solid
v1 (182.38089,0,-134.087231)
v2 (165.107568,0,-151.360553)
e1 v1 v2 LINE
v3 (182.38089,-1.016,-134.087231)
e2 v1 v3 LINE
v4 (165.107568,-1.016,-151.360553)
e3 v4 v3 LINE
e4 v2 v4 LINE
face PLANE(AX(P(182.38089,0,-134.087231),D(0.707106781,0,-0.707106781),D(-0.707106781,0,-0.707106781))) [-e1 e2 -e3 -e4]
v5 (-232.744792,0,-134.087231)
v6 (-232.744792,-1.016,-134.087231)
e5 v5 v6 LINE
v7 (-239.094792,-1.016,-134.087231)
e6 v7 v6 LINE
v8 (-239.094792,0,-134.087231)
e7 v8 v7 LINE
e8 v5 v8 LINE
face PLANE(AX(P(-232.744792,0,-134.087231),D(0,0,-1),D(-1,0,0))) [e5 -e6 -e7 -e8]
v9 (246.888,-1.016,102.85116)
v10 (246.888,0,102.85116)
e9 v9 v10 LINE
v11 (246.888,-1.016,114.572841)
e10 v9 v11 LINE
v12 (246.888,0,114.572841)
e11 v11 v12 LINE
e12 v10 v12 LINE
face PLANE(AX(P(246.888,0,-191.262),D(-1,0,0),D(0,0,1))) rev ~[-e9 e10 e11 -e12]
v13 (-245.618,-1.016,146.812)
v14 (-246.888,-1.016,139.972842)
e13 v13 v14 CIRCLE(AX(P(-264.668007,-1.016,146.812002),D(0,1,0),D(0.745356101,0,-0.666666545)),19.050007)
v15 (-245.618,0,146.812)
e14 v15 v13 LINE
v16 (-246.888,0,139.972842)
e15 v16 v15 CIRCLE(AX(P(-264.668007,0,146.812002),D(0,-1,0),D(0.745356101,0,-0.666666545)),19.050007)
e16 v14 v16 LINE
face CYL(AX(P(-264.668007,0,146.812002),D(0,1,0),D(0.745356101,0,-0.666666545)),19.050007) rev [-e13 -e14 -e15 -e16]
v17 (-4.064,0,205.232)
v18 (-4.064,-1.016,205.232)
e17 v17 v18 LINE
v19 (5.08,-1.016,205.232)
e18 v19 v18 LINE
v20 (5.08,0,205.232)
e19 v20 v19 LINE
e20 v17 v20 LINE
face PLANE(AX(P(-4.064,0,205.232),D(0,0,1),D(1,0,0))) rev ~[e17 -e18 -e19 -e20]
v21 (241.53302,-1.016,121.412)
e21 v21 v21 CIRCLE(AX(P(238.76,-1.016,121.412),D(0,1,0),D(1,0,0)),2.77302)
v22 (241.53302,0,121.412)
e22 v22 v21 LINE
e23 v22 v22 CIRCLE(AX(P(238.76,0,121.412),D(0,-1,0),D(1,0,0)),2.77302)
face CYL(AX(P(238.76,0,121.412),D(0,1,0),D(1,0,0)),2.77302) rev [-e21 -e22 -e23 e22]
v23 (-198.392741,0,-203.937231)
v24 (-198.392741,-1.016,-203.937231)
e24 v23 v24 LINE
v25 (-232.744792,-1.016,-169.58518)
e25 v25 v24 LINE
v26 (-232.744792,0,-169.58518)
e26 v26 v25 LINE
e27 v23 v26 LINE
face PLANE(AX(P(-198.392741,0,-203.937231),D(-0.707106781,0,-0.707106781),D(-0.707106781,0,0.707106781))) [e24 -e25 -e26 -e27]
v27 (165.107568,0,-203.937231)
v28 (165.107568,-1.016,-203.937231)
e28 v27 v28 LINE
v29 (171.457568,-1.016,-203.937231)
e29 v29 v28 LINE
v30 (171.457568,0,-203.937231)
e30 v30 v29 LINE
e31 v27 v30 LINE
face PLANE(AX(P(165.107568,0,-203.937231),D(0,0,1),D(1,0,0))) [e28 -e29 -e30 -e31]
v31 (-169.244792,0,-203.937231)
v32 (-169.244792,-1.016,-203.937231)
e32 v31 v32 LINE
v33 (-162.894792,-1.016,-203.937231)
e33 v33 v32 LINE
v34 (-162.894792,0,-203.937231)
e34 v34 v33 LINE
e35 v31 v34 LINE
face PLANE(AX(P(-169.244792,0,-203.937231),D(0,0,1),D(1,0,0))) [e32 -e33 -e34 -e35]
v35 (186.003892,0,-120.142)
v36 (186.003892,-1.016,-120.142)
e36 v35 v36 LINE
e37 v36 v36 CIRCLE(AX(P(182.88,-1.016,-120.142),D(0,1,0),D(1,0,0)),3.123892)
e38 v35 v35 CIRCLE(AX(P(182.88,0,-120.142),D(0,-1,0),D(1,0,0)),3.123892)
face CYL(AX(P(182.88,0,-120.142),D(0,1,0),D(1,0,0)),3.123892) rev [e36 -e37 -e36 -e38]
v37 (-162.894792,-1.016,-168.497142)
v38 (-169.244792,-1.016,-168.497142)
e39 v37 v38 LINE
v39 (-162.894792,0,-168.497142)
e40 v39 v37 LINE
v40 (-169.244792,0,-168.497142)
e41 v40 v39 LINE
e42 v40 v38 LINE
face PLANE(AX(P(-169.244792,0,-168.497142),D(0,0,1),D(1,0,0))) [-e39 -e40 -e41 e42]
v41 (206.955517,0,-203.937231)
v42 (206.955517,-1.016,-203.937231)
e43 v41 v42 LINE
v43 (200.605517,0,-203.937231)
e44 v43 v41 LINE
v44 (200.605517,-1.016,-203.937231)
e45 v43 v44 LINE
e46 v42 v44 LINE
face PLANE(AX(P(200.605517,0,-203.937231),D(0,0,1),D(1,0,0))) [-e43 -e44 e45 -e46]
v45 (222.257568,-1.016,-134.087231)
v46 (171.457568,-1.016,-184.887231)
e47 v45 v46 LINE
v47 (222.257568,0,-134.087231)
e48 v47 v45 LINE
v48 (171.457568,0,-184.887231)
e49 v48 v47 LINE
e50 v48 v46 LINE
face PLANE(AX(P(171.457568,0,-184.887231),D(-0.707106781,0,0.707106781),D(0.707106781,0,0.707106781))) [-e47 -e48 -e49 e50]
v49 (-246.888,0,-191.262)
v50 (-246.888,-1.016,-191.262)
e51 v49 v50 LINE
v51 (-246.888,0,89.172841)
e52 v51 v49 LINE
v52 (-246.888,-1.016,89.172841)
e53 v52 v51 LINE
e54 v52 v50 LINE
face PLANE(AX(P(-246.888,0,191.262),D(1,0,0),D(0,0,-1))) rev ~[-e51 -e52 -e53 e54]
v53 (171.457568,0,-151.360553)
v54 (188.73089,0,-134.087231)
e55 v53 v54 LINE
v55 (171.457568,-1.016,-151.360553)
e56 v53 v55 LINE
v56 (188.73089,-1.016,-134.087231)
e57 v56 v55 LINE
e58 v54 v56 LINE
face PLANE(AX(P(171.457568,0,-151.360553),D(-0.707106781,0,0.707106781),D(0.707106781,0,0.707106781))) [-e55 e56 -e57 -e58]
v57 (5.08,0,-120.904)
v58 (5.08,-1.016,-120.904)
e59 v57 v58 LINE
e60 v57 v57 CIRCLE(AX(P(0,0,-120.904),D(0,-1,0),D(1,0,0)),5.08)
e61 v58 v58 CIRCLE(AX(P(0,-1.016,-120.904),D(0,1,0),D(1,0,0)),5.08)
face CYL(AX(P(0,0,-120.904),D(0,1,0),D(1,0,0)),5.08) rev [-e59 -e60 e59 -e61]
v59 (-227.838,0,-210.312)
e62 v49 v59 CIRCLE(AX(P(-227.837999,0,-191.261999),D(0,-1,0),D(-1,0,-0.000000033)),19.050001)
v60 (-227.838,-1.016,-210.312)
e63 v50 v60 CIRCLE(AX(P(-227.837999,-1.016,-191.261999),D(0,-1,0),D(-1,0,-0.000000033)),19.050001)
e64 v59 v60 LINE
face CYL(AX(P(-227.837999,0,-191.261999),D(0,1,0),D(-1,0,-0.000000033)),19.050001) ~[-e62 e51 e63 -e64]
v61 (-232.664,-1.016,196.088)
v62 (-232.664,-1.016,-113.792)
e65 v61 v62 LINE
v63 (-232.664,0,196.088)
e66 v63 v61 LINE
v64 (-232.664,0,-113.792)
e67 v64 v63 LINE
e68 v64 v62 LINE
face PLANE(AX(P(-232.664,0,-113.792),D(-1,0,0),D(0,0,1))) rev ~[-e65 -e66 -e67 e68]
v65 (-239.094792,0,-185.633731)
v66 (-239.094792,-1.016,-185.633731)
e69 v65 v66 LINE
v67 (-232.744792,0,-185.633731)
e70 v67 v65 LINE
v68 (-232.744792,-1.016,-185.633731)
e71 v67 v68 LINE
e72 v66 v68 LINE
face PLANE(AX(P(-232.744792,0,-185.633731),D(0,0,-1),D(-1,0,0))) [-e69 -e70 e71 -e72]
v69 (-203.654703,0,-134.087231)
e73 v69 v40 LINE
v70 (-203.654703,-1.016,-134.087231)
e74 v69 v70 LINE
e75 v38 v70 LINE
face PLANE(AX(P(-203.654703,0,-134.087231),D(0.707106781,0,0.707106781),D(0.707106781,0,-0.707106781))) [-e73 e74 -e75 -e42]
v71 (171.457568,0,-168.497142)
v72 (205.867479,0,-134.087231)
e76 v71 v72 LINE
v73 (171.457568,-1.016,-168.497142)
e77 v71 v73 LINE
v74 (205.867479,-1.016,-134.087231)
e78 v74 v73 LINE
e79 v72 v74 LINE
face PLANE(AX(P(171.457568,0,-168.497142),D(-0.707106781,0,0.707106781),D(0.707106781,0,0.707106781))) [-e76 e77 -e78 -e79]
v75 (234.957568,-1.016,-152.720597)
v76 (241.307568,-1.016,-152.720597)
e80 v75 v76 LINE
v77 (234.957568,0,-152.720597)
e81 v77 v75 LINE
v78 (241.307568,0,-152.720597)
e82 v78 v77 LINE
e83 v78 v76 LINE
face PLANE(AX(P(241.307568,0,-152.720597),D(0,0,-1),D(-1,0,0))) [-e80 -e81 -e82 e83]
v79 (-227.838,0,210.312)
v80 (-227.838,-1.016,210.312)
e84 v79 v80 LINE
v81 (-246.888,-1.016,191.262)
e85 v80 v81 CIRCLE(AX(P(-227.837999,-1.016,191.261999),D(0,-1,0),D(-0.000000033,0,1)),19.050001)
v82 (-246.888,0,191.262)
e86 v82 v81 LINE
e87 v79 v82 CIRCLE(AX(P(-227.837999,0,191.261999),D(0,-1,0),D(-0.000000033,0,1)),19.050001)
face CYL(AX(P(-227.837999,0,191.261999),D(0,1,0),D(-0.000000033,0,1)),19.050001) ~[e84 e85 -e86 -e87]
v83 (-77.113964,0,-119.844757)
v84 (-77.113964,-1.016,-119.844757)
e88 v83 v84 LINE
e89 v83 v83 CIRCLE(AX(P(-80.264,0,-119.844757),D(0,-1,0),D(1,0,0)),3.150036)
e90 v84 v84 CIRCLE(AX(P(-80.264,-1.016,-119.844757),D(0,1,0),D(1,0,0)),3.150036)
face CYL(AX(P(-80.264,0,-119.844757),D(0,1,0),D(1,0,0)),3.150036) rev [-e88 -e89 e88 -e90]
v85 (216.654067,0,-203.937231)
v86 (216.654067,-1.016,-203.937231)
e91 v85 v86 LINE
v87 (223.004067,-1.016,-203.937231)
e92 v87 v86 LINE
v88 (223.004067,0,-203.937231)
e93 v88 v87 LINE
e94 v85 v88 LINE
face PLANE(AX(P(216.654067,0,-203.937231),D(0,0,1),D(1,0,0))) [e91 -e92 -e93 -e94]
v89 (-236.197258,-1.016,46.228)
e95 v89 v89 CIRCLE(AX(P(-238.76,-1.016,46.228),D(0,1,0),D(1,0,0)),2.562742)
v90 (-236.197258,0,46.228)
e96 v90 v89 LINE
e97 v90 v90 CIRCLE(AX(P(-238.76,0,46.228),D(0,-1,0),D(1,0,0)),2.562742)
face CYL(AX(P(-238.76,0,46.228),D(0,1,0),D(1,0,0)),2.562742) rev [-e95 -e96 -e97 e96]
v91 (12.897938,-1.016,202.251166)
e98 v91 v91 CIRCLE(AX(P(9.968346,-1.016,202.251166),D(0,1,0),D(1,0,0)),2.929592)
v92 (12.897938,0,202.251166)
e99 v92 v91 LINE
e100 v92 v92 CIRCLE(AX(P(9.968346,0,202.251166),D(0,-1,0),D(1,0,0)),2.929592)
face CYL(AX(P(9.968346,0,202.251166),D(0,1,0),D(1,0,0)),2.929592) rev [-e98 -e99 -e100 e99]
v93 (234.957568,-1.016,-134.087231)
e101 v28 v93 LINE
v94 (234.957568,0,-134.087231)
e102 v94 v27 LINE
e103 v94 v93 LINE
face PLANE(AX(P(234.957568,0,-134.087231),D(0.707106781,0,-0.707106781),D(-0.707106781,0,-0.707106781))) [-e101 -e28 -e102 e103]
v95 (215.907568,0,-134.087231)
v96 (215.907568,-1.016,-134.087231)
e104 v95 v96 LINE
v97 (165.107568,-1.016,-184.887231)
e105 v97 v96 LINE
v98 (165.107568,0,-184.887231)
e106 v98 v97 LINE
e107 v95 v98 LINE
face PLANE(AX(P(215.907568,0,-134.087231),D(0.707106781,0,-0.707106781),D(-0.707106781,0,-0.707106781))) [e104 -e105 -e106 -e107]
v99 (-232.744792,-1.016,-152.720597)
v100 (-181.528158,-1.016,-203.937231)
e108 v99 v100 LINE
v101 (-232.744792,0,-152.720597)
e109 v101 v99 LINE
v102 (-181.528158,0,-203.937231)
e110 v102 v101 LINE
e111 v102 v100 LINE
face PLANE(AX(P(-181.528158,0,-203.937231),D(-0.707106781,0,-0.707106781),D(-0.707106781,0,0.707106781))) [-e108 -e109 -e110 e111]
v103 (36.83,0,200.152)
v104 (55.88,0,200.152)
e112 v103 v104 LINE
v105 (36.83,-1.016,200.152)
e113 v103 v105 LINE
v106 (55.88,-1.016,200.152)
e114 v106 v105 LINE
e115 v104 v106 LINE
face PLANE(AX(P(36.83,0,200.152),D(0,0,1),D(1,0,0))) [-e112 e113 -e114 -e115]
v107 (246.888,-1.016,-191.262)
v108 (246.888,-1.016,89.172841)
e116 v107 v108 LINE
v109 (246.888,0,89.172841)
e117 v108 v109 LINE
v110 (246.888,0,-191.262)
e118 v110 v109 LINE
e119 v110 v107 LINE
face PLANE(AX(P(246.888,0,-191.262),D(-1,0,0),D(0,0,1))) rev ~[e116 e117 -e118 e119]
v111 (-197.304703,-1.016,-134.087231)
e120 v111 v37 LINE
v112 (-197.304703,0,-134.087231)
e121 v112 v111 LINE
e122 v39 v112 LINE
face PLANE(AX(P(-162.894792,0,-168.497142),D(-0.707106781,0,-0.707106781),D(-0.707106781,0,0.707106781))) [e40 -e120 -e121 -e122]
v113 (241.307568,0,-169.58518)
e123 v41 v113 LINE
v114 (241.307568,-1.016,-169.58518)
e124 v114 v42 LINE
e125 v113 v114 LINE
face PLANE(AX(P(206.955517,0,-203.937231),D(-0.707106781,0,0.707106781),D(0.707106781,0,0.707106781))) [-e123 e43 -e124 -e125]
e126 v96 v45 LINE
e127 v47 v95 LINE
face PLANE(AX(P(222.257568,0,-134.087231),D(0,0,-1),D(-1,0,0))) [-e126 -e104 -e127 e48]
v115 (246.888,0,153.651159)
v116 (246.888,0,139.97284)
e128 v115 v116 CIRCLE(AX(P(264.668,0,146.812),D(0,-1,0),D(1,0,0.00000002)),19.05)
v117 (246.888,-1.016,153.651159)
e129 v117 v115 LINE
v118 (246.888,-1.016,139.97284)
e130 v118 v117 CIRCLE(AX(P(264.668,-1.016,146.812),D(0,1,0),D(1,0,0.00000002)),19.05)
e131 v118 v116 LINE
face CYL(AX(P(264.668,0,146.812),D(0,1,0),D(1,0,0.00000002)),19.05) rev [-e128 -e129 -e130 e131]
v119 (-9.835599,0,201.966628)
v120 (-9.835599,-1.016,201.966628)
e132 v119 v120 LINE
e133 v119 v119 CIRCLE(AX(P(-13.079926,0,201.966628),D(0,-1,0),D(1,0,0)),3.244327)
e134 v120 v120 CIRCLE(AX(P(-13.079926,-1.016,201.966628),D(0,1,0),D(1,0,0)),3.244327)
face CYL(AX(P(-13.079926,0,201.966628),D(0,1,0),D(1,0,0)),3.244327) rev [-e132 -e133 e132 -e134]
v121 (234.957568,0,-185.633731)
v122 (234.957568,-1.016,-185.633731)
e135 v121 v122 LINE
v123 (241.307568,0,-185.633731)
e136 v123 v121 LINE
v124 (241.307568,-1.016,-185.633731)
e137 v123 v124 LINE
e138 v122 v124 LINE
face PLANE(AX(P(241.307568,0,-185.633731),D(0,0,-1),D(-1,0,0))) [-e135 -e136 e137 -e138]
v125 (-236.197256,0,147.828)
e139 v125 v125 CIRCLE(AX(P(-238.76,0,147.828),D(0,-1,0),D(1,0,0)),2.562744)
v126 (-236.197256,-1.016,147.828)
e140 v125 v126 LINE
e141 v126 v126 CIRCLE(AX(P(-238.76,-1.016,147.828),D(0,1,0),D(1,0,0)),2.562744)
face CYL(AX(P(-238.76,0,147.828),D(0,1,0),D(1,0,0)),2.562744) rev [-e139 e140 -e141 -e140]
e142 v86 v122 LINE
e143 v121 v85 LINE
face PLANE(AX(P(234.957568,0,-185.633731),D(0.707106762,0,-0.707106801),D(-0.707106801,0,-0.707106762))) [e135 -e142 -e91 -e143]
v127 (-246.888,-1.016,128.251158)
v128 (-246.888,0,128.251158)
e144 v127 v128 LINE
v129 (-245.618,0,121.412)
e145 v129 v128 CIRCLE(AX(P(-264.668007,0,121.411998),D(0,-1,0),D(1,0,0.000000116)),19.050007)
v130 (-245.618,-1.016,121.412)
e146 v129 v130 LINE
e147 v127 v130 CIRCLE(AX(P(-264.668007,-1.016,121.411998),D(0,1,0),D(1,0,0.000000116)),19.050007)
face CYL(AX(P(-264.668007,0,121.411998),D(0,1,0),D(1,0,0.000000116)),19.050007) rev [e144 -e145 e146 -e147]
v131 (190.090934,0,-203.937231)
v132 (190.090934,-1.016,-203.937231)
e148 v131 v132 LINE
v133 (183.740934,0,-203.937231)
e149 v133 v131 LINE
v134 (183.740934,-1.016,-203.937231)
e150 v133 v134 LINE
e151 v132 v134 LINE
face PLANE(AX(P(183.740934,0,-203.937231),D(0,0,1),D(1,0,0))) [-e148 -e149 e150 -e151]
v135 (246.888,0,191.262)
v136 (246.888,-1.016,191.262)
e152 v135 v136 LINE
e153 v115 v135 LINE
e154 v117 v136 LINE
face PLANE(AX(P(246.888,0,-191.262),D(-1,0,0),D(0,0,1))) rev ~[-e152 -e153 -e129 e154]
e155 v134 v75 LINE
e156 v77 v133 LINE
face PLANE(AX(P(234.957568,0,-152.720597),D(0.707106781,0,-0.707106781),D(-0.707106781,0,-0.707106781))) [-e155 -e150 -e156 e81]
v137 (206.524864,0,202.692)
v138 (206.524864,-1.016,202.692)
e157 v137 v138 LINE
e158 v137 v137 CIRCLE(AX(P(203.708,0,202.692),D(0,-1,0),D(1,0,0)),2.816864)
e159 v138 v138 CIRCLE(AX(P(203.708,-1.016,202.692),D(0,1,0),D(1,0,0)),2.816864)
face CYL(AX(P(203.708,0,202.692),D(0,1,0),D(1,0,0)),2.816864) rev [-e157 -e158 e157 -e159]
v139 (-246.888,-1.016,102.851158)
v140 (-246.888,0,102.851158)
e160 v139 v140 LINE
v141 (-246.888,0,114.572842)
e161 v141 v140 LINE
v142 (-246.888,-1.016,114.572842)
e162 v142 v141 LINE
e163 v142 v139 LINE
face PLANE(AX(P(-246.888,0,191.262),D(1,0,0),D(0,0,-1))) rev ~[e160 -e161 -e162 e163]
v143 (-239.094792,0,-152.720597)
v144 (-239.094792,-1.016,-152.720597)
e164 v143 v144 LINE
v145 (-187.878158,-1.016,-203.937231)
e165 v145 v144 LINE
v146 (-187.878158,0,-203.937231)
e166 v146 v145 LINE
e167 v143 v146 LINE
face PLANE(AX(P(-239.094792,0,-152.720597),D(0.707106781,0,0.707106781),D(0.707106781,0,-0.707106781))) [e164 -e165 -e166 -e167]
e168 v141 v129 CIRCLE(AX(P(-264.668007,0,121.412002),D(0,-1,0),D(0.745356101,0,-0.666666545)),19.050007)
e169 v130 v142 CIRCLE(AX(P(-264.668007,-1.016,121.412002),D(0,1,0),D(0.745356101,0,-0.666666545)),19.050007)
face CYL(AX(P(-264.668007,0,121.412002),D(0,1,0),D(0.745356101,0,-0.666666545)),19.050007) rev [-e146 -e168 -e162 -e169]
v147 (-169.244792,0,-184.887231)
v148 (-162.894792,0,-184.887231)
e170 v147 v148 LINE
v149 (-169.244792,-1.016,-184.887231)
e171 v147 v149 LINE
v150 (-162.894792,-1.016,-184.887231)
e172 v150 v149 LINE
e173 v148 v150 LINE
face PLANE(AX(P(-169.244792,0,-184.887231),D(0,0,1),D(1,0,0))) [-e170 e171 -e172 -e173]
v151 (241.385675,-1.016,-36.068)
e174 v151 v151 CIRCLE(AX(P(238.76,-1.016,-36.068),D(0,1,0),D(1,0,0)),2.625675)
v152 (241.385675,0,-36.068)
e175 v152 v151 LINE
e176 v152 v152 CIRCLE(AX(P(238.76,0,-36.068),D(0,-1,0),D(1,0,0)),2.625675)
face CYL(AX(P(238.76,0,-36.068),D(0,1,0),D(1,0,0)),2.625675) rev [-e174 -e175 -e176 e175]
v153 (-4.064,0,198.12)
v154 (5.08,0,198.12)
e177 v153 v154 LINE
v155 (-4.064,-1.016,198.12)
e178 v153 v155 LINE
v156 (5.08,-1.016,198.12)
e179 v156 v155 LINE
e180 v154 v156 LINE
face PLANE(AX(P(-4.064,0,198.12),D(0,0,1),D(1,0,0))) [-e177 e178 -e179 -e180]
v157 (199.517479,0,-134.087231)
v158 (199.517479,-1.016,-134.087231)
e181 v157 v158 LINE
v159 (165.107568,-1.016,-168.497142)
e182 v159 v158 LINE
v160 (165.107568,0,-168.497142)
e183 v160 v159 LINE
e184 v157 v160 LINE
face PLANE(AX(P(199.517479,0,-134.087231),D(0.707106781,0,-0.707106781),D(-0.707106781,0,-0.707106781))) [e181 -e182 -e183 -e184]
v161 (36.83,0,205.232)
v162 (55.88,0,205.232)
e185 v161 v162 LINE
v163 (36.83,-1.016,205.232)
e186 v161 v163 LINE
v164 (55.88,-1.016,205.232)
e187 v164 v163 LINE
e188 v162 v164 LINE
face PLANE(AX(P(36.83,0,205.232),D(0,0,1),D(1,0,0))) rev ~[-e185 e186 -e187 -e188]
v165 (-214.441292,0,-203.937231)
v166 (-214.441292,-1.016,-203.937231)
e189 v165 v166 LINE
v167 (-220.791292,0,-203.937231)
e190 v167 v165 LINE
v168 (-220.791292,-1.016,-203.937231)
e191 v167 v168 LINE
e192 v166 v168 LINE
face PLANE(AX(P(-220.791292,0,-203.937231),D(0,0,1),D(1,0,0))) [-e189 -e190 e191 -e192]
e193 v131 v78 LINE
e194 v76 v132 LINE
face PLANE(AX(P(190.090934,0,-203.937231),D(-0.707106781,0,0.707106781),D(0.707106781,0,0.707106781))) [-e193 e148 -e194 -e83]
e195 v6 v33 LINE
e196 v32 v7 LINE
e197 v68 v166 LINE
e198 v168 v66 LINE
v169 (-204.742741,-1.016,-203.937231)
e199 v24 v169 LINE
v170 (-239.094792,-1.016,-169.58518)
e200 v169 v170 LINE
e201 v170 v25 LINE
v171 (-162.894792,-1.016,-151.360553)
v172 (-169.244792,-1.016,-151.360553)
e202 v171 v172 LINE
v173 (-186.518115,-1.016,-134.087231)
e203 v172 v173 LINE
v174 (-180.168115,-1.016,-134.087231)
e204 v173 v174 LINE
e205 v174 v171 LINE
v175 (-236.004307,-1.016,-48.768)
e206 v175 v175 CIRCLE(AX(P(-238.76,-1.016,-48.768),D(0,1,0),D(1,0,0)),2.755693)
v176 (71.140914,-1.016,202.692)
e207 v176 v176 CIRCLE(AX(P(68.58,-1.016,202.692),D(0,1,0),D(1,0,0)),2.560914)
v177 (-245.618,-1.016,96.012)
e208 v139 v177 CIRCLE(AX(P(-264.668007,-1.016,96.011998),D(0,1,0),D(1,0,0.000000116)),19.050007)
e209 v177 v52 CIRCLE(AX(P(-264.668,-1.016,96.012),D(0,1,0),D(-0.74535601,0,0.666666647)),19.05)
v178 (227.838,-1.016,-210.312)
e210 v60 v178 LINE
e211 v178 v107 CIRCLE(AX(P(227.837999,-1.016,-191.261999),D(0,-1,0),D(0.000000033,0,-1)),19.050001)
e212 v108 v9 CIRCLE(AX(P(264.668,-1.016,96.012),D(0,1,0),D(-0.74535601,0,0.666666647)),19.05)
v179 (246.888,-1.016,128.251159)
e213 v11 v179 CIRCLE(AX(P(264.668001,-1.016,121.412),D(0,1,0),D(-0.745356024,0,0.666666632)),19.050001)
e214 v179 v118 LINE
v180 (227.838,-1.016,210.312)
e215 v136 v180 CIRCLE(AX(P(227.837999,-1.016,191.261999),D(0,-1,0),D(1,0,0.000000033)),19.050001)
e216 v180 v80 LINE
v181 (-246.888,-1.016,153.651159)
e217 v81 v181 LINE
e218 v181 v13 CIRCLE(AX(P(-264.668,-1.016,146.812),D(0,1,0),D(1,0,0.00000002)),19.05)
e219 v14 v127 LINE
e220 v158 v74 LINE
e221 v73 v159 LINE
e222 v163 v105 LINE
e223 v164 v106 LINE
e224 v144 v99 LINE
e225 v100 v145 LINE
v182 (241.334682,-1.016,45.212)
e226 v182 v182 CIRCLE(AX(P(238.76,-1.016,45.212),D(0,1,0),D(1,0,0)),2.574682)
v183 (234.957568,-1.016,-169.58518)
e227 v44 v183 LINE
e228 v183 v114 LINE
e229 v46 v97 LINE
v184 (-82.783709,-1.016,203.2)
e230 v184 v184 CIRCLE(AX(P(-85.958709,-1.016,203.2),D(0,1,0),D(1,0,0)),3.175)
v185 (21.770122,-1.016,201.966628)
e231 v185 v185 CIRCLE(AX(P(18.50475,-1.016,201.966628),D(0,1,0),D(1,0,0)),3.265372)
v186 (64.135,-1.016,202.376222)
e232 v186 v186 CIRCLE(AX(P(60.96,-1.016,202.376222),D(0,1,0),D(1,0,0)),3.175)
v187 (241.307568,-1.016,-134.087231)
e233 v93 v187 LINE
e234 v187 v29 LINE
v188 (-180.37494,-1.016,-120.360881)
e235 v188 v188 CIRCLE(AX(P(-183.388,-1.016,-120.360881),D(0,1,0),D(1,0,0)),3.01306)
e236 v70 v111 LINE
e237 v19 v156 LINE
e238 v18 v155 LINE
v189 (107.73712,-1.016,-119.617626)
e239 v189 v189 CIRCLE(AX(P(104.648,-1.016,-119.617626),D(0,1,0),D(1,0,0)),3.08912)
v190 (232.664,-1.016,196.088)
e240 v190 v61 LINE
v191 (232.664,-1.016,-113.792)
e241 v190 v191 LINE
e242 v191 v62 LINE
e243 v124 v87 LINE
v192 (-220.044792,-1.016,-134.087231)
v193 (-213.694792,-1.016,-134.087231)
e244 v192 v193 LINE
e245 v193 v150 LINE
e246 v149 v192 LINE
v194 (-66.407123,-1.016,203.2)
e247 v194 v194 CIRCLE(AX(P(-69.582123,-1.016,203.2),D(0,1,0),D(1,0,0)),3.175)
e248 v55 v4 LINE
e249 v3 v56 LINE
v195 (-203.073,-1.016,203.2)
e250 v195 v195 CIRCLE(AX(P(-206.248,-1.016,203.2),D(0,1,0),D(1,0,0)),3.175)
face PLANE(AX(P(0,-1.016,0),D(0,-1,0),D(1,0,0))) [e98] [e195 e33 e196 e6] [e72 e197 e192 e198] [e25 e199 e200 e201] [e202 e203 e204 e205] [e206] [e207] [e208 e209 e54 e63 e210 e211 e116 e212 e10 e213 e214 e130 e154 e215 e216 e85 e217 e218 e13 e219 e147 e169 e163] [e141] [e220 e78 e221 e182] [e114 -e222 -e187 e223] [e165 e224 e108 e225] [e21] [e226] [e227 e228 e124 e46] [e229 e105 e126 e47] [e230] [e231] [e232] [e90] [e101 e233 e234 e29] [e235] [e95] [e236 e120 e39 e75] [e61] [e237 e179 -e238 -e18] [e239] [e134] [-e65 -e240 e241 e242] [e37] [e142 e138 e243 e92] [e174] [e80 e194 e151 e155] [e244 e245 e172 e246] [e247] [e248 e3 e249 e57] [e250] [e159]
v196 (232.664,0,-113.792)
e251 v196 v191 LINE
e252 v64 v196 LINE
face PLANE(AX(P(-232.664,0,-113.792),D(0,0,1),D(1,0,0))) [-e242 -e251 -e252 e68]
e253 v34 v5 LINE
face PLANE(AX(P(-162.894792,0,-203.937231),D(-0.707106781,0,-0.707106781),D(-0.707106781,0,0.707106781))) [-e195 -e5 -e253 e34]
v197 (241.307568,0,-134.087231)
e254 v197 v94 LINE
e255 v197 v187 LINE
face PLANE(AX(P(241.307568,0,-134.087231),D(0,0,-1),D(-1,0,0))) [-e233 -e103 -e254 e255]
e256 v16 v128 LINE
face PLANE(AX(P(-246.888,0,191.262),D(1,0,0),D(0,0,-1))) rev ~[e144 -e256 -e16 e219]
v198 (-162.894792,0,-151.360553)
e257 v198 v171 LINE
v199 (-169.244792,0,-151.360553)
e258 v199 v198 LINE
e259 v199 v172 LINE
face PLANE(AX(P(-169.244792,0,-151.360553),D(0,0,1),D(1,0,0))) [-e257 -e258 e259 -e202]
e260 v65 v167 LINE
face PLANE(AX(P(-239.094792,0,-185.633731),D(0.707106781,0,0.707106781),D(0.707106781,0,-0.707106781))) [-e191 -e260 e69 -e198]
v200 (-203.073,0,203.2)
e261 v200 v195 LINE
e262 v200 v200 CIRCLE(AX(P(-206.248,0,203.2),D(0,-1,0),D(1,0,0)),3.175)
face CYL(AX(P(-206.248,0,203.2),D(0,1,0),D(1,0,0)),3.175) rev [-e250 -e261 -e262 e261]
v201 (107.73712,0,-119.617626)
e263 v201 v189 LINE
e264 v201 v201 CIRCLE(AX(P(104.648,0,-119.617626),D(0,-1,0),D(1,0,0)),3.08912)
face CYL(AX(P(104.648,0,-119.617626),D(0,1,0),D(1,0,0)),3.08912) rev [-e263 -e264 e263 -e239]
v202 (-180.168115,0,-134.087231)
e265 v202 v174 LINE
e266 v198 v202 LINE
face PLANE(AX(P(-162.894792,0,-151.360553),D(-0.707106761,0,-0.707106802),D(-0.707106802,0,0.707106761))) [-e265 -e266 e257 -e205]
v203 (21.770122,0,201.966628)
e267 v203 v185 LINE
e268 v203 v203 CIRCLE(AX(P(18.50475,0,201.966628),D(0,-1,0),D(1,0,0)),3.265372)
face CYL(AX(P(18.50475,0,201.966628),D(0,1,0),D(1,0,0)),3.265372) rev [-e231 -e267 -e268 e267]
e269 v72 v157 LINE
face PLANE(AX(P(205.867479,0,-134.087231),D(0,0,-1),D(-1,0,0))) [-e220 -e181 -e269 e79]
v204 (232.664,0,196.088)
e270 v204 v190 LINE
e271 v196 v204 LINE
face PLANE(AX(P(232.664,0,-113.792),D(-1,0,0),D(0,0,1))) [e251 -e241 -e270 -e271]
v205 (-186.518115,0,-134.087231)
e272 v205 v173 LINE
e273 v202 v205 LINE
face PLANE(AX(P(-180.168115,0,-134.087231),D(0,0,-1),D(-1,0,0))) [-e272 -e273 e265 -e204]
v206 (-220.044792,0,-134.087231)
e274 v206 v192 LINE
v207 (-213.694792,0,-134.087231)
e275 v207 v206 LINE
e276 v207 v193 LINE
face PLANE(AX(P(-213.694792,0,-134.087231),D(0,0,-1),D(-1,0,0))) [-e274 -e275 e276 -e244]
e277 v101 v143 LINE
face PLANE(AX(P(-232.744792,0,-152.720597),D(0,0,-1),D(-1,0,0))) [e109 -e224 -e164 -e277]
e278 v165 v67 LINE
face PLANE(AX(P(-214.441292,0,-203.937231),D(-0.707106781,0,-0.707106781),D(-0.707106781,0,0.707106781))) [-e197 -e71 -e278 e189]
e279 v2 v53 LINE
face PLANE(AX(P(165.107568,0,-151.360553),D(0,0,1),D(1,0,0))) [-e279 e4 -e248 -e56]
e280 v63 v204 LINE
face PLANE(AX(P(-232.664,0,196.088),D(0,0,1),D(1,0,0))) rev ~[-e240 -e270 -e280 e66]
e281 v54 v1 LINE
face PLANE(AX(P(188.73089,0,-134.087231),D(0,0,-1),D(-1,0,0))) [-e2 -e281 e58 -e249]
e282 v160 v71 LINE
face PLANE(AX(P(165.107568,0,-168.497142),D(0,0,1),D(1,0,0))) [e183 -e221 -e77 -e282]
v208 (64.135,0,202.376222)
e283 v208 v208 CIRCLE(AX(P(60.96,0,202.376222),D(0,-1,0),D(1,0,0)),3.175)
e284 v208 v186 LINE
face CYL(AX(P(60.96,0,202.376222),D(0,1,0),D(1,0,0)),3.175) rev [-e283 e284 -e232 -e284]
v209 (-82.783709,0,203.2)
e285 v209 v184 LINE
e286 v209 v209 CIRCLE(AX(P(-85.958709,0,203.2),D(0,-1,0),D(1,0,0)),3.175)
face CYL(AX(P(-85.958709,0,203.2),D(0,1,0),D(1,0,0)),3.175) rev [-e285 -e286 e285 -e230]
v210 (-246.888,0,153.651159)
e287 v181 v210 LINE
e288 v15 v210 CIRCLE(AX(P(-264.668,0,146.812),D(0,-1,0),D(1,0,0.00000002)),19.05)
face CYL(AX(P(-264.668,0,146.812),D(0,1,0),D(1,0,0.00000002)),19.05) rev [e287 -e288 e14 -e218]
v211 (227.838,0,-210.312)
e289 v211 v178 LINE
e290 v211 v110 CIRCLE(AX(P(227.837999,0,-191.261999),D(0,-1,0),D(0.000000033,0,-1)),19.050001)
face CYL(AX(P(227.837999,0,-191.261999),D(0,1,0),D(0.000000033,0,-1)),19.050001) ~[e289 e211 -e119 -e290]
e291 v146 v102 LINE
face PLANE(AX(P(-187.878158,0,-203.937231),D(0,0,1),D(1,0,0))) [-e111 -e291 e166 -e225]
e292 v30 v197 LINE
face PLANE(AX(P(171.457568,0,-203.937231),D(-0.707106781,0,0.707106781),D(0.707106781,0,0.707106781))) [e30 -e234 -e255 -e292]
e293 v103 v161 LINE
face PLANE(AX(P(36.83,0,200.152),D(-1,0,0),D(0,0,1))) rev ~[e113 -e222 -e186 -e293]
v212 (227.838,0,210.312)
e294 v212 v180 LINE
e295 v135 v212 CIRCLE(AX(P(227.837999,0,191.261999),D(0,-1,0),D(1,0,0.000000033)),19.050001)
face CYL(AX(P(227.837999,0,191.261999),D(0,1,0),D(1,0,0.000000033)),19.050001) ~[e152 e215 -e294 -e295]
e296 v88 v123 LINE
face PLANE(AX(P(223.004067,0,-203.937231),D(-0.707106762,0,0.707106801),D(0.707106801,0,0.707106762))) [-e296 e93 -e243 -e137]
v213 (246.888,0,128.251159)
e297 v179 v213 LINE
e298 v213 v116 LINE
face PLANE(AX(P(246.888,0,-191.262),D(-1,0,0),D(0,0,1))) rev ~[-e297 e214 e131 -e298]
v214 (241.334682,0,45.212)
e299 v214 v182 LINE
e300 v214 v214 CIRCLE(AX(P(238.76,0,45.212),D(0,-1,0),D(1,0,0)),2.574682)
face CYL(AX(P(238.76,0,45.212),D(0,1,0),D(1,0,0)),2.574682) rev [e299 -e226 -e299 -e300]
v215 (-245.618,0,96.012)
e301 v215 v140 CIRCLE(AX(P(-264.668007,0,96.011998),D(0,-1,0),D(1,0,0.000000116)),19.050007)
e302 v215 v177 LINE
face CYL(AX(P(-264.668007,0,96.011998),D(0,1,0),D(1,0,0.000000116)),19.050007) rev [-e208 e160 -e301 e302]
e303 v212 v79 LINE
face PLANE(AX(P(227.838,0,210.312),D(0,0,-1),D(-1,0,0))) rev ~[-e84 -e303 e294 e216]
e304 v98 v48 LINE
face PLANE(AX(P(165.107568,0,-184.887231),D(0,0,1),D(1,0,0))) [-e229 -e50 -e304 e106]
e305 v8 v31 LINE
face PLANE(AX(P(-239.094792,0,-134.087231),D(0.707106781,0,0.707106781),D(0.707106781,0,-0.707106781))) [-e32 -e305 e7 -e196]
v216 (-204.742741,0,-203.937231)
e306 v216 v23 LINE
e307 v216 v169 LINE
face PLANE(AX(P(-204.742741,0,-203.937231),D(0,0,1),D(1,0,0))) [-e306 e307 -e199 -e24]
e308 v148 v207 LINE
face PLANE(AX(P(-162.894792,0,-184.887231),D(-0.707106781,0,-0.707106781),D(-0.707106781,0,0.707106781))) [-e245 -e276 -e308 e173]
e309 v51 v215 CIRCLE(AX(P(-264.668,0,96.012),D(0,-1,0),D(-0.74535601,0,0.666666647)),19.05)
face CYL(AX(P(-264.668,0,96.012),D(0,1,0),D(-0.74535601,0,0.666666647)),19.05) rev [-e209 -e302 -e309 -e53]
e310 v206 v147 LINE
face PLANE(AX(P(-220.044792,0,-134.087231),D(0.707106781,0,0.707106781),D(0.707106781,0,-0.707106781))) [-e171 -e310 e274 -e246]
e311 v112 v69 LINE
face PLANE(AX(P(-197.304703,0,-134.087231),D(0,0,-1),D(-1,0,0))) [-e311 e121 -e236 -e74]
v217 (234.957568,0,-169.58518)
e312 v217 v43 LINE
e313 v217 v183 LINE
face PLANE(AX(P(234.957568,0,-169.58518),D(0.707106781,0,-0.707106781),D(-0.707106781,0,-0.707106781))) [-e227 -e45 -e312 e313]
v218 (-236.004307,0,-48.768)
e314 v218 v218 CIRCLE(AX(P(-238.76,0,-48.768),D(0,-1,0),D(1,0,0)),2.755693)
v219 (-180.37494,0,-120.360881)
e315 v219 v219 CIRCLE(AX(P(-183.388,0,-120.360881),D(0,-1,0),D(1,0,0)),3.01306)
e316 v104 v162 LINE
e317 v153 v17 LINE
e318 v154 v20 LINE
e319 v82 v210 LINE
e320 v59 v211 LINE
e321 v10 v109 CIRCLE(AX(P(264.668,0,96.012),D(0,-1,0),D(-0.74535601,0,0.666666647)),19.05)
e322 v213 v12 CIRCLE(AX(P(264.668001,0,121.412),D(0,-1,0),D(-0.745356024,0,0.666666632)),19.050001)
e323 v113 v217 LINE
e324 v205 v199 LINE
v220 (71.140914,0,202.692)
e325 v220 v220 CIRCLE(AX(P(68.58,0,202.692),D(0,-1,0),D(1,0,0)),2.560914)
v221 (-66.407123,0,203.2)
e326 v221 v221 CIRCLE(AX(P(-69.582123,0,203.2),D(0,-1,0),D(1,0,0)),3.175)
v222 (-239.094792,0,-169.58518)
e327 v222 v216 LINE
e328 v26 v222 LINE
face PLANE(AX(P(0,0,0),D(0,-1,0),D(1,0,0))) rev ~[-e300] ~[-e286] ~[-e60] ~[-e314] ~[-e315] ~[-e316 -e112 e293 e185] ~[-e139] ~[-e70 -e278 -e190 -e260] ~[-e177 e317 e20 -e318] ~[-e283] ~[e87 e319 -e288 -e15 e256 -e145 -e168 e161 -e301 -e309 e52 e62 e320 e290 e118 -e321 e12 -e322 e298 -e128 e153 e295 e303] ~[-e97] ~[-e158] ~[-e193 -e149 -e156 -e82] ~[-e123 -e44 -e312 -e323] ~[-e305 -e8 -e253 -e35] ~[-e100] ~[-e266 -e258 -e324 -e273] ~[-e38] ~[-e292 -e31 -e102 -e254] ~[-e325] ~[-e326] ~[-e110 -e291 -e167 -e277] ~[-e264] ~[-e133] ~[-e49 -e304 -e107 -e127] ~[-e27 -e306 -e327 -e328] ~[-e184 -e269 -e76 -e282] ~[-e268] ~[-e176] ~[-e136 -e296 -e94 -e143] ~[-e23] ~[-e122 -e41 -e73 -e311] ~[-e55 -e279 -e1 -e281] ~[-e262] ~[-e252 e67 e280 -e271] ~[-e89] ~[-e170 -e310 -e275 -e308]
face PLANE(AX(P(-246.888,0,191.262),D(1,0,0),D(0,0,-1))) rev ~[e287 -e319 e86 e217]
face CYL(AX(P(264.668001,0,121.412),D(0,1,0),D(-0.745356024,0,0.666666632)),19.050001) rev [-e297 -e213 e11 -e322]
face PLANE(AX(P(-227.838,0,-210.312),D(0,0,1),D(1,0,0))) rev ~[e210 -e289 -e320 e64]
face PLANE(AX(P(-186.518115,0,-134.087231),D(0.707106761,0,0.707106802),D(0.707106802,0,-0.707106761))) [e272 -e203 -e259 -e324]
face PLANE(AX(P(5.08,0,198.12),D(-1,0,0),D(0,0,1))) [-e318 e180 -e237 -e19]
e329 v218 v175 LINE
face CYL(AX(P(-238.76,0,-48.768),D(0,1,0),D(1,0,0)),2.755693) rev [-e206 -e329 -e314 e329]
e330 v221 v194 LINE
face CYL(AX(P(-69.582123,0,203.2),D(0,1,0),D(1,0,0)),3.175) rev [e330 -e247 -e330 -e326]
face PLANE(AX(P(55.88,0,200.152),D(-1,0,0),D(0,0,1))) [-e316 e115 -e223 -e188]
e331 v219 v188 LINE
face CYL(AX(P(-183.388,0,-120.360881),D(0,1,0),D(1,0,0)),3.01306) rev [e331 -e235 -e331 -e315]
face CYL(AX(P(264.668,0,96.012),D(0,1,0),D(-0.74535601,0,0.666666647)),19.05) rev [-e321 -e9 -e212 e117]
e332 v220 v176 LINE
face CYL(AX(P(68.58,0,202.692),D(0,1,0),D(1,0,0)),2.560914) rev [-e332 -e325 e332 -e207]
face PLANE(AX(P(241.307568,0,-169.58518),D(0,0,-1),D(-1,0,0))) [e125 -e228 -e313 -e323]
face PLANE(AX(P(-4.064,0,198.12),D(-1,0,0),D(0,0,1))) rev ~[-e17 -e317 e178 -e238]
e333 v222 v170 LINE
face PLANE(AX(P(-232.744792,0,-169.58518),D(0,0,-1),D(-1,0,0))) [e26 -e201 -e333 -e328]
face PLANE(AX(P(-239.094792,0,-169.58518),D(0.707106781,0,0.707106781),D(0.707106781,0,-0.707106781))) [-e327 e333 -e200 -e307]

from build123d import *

# Parameters (mm, degrees)
F2_DEPTH  = 1.016
F1_W      = 465.328
F1_H      = 309.88
F3_DEPTH  = 2.54
F4_W      = 9.144
F4_H      = 7.112
F4_R      = 3.244327
F4_R_2    = 2.929592
F4_R_3    = 3.265372
F4_W_2    = 19.05
F4_H_2    = 5.08
F4_R_4    = 2.560914
F4_R_5    = 2.816864
F4_R_6    = 5.08
F5_DEPTH  = 25.4
F6_R      = 3.175
F6_R_2    = 3.08912
F7_DEPTH  = 25.4
F8_R      = 3.01306
F8_R_2    = 3.150036
F8_R_3    = 3.123892
F8_R_4    = 2.562744
F8_R_5    = 2.562742
F8_R_6    = 2.755693
F8_R_7    = 2.77302
F8_R_8    = 2.574682
F8_R_9    = 2.625675
F9_DEPTH  = 25.4
F11_DEPTH = 25.4
F13_DEPTH = 25.4


with BuildPart() as f2:
    # F0 (on Front) → F2 (new body)
    with BuildSketch(Plane.XZ):
        with BuildLine():
            ThreePointArc((246.888, 191.262), (241.308384, 204.732384), (227.838, 210.312))
            Line((227.838, 210.312), (-227.838, 210.312))
            ThreePointArc((-227.838, 210.312), (-241.308384, 204.732384), (-246.888, 191.262))
            Line((-246.888, 191.262), (-246.888, -191.262))
            ThreePointArc((-246.888, -191.262), (-241.308384, -204.732384), (-227.838, -210.312))
            Line((-227.838, -210.312), (227.838, -210.312))
            ThreePointArc((227.838, -210.312), (241.308384, -204.732384), (246.888, -191.262))
            Line((246.888, -191.262), (246.888, 191.262))
        make_face()
    extrude(amount=F2_DEPTH)

    # F1 (on Front) → F3 (cut)
    with BuildSketch(Plane.XZ):
        with Locations((0, 41.148)):
            Rectangle(F1_W, F1_H)
    extrude(amount=F3_DEPTH, mode=Mode.SUBTRACT)

    # F4 (on Front) → F5 (cut)
    with BuildSketch(Plane.XZ):
        with Locations((0.508, 201.676)):
            Rectangle(F4_W, F4_H)
        with Locations((-13.079926, 201.966628)):
            Circle(F4_R)
        with Locations((9.968346, 202.251166)):
            Circle(F4_R_2)
        with Locations((18.50475, 201.966628)):
            Circle(F4_R_3)
        with Locations((46.355, 202.692)):
            Rectangle(F4_W_2, F4_H_2)
        with Locations((68.58, 202.692)):
            Circle(F4_R_4)
        with Locations((203.708, 202.692)):
            Circle(F4_R_5)
        with Locations((0, -120.904)):
            Circle(F4_R_6)
    extrude(amount=F5_DEPTH, mode=Mode.SUBTRACT)

    # F6 (on Front) → F7 (cut)
    with BuildSketch(Plane.XZ):
        with Locations((60.96, 202.376222)):
            Circle(F6_R)
        with Locations((-69.582123, 203.2)):
            Circle(F6_R)
        with Locations((-85.958709, 203.2)):
            Circle(F6_R)
        with Locations((-206.248, 203.2)):
            Circle(F6_R)
        with Locations((104.648, -119.617626)):
            Circle(F6_R_2)
    extrude(amount=F7_DEPTH, mode=Mode.SUBTRACT)

    # F8 (on Front) → F9 (cut)
    with BuildSketch(Plane.XZ):
        with Locations((-183.388, -120.360881)):
            Circle(F8_R)
        with Locations((-80.264, -119.844757)):
            Circle(F8_R_2)
        with Locations((182.88, -120.142)):
            Circle(F8_R_3)
        with Locations((-238.76, 147.828)):
            Circle(F8_R_4)
        with Locations((-238.76, 46.228)):
            Circle(F8_R_5)
        with Locations((-238.76, -48.768)):
            Circle(F8_R_6)
        with Locations((238.76, 121.412)):
            Circle(F8_R_7)
        with Locations((238.76, 45.212)):
            Circle(F8_R_8)
        with Locations((238.76, -36.068)):
            Circle(F8_R_9)
    extrude(amount=F9_DEPTH, mode=Mode.SUBTRACT)

    # F10 (on Front) → F11 (cut)
    with BuildSketch(Plane.XZ):
        Polygon((-232.744792, -134.087231), (-239.094792, -134.087231), (-169.244792, -203.937231), (-162.894792, -203.937231), align=None)
        Polygon((-213.694792, -134.087231), (-220.044792, -134.087231), (-169.244792, -184.887231), (-162.894792, -184.887231), align=None)
        Polygon((-232.744792, -152.720597), (-239.094792, -152.720597), (-187.878158, -203.937231), (-181.528158, -203.937231), align=None)
        Polygon((-232.744792, -169.58518), (-239.094792, -169.58518), (-204.742741, -203.937231), (-198.392741, -203.937231), align=None)
        Polygon((-232.744792, -185.633731), (-239.094792, -185.633731), (-220.791292, -203.937231), (-214.441292, -203.937231), align=None)
        Polygon((-169.244792, -168.497142), (-162.894792, -168.497142), (-197.304703, -134.087231), (-203.654703, -134.087231), align=None)
        Polygon((-169.244792, -151.360553), (-162.894792, -151.360553), (-180.168115, -134.087231), (-186.518115, -134.087231), align=None)
        Polygon((165.107568, -203.937231), (171.457568, -203.937231), (241.307568, -134.087231), (234.957568, -134.087231), align=None)
        Polygon((216.654067, -203.937231), (223.004067, -203.937231), (241.307568, -185.633731), (234.957568, -185.633731), align=None)
        Polygon((200.605517, -203.937231), (206.955517, -203.937231), (241.307568, -169.58518), (234.957568, -169.58518), align=None)
        Polygon((183.740934, -203.937231), (190.090934, -203.937231), (241.307568, -152.720597), (234.957568, -152.720597), align=None)
        Polygon((165.107568, -184.887231), (171.457568, -184.887231), (222.257568, -134.087231), (215.907568, -134.087231), align=None)
        Polygon((165.107568, -168.497142), (171.457568, -168.497142), (205.867479, -134.087231), (199.517479, -134.087231), align=None)
        Polygon((165.107568, -151.360553), (171.457568, -151.360553), (188.73089, -134.087231), (182.38089, -134.087231), align=None)
    extrude(amount=F11_DEPTH, mode=Mode.SUBTRACT)

    # F12 (on Front) → F13 (cut)
    with BuildSketch(Plane.XZ):
        with BuildLine():
            ThreePointArc((-250.468968, 134.112), (-246.872017, 140.014539), (-245.618, 146.812))
            ThreePointArc((-245.618, 146.812), (-271.465461, 164.607983), (-278.867032, 134.112))
            ThreePointArc((-278.867032, 134.112), (-264.668, 140.462), (-250.468968, 134.112))
        make_face()
        with BuildLine():
            ThreePointArc((-250.468968, 134.112), (-264.668, 127.762), (-278.867032, 134.112))
            ThreePointArc((-278.867032, 134.112), (-283.718, 121.412), (-278.867032, 108.712))
            ThreePointArc((-278.867032, 108.712), (-264.668, 115.062), (-250.468968, 108.712))
            ThreePointArc((-250.468968, 108.712), (-246.872017, 114.614539), (-245.618, 121.412))
            ThreePointArc((-245.618, 121.412), (-246.872017, 128.209461), (-250.468968, 134.112))
        make_face()
        with BuildLine():
            ThreePointArc((-250.468968, 108.712), (-264.668, 102.362), (-278.867032, 108.712))
            ThreePointArc((-278.867032, 108.712), (-271.465461, 78.216017), (-245.618, 96.012))
            ThreePointArc((-245.618, 96.012), (-246.872017, 102.809461), (-250.468968, 108.712))
        make_face()
        with BuildLine():
            ThreePointArc((278.867032, 134.112), (282.463983, 140.014539), (283.718, 146.812))
            ThreePointArc((283.718, 146.812), (257.870539, 164.607983), (250.468968, 134.112))
            ThreePointArc((250.468968, 134.112), (264.668, 140.462), (278.867032, 134.112))
        make_face()
        with BuildLine():
            ThreePointArc((278.867032, 134.112), (264.668, 127.762), (250.468968, 134.112))
            ThreePointArc((250.468968, 134.112), (245.618, 121.412), (250.468968, 108.712))
            ThreePointArc((250.468968, 108.712), (264.668, 115.062), (278.867032, 108.712))
            ThreePointArc((278.867032, 108.712), (282.463983, 114.614539), (283.718, 121.412))
            ThreePointArc((283.718, 121.412), (282.463983, 128.209461), (278.867032, 134.112))
        make_face()
        with BuildLine():
            ThreePointArc((278.867032, 108.712), (264.668, 102.362), (250.468968, 108.712))
            ThreePointArc((250.468968, 108.712), (257.870539, 78.216017), (283.718, 96.012))
            ThreePointArc((283.718, 96.012), (282.463983, 102.809461), (278.867032, 108.712))
        make_face()
    extrude(amount=F13_DEPTH, mode=Mode.SUBTRACT)


solid = f2.part
